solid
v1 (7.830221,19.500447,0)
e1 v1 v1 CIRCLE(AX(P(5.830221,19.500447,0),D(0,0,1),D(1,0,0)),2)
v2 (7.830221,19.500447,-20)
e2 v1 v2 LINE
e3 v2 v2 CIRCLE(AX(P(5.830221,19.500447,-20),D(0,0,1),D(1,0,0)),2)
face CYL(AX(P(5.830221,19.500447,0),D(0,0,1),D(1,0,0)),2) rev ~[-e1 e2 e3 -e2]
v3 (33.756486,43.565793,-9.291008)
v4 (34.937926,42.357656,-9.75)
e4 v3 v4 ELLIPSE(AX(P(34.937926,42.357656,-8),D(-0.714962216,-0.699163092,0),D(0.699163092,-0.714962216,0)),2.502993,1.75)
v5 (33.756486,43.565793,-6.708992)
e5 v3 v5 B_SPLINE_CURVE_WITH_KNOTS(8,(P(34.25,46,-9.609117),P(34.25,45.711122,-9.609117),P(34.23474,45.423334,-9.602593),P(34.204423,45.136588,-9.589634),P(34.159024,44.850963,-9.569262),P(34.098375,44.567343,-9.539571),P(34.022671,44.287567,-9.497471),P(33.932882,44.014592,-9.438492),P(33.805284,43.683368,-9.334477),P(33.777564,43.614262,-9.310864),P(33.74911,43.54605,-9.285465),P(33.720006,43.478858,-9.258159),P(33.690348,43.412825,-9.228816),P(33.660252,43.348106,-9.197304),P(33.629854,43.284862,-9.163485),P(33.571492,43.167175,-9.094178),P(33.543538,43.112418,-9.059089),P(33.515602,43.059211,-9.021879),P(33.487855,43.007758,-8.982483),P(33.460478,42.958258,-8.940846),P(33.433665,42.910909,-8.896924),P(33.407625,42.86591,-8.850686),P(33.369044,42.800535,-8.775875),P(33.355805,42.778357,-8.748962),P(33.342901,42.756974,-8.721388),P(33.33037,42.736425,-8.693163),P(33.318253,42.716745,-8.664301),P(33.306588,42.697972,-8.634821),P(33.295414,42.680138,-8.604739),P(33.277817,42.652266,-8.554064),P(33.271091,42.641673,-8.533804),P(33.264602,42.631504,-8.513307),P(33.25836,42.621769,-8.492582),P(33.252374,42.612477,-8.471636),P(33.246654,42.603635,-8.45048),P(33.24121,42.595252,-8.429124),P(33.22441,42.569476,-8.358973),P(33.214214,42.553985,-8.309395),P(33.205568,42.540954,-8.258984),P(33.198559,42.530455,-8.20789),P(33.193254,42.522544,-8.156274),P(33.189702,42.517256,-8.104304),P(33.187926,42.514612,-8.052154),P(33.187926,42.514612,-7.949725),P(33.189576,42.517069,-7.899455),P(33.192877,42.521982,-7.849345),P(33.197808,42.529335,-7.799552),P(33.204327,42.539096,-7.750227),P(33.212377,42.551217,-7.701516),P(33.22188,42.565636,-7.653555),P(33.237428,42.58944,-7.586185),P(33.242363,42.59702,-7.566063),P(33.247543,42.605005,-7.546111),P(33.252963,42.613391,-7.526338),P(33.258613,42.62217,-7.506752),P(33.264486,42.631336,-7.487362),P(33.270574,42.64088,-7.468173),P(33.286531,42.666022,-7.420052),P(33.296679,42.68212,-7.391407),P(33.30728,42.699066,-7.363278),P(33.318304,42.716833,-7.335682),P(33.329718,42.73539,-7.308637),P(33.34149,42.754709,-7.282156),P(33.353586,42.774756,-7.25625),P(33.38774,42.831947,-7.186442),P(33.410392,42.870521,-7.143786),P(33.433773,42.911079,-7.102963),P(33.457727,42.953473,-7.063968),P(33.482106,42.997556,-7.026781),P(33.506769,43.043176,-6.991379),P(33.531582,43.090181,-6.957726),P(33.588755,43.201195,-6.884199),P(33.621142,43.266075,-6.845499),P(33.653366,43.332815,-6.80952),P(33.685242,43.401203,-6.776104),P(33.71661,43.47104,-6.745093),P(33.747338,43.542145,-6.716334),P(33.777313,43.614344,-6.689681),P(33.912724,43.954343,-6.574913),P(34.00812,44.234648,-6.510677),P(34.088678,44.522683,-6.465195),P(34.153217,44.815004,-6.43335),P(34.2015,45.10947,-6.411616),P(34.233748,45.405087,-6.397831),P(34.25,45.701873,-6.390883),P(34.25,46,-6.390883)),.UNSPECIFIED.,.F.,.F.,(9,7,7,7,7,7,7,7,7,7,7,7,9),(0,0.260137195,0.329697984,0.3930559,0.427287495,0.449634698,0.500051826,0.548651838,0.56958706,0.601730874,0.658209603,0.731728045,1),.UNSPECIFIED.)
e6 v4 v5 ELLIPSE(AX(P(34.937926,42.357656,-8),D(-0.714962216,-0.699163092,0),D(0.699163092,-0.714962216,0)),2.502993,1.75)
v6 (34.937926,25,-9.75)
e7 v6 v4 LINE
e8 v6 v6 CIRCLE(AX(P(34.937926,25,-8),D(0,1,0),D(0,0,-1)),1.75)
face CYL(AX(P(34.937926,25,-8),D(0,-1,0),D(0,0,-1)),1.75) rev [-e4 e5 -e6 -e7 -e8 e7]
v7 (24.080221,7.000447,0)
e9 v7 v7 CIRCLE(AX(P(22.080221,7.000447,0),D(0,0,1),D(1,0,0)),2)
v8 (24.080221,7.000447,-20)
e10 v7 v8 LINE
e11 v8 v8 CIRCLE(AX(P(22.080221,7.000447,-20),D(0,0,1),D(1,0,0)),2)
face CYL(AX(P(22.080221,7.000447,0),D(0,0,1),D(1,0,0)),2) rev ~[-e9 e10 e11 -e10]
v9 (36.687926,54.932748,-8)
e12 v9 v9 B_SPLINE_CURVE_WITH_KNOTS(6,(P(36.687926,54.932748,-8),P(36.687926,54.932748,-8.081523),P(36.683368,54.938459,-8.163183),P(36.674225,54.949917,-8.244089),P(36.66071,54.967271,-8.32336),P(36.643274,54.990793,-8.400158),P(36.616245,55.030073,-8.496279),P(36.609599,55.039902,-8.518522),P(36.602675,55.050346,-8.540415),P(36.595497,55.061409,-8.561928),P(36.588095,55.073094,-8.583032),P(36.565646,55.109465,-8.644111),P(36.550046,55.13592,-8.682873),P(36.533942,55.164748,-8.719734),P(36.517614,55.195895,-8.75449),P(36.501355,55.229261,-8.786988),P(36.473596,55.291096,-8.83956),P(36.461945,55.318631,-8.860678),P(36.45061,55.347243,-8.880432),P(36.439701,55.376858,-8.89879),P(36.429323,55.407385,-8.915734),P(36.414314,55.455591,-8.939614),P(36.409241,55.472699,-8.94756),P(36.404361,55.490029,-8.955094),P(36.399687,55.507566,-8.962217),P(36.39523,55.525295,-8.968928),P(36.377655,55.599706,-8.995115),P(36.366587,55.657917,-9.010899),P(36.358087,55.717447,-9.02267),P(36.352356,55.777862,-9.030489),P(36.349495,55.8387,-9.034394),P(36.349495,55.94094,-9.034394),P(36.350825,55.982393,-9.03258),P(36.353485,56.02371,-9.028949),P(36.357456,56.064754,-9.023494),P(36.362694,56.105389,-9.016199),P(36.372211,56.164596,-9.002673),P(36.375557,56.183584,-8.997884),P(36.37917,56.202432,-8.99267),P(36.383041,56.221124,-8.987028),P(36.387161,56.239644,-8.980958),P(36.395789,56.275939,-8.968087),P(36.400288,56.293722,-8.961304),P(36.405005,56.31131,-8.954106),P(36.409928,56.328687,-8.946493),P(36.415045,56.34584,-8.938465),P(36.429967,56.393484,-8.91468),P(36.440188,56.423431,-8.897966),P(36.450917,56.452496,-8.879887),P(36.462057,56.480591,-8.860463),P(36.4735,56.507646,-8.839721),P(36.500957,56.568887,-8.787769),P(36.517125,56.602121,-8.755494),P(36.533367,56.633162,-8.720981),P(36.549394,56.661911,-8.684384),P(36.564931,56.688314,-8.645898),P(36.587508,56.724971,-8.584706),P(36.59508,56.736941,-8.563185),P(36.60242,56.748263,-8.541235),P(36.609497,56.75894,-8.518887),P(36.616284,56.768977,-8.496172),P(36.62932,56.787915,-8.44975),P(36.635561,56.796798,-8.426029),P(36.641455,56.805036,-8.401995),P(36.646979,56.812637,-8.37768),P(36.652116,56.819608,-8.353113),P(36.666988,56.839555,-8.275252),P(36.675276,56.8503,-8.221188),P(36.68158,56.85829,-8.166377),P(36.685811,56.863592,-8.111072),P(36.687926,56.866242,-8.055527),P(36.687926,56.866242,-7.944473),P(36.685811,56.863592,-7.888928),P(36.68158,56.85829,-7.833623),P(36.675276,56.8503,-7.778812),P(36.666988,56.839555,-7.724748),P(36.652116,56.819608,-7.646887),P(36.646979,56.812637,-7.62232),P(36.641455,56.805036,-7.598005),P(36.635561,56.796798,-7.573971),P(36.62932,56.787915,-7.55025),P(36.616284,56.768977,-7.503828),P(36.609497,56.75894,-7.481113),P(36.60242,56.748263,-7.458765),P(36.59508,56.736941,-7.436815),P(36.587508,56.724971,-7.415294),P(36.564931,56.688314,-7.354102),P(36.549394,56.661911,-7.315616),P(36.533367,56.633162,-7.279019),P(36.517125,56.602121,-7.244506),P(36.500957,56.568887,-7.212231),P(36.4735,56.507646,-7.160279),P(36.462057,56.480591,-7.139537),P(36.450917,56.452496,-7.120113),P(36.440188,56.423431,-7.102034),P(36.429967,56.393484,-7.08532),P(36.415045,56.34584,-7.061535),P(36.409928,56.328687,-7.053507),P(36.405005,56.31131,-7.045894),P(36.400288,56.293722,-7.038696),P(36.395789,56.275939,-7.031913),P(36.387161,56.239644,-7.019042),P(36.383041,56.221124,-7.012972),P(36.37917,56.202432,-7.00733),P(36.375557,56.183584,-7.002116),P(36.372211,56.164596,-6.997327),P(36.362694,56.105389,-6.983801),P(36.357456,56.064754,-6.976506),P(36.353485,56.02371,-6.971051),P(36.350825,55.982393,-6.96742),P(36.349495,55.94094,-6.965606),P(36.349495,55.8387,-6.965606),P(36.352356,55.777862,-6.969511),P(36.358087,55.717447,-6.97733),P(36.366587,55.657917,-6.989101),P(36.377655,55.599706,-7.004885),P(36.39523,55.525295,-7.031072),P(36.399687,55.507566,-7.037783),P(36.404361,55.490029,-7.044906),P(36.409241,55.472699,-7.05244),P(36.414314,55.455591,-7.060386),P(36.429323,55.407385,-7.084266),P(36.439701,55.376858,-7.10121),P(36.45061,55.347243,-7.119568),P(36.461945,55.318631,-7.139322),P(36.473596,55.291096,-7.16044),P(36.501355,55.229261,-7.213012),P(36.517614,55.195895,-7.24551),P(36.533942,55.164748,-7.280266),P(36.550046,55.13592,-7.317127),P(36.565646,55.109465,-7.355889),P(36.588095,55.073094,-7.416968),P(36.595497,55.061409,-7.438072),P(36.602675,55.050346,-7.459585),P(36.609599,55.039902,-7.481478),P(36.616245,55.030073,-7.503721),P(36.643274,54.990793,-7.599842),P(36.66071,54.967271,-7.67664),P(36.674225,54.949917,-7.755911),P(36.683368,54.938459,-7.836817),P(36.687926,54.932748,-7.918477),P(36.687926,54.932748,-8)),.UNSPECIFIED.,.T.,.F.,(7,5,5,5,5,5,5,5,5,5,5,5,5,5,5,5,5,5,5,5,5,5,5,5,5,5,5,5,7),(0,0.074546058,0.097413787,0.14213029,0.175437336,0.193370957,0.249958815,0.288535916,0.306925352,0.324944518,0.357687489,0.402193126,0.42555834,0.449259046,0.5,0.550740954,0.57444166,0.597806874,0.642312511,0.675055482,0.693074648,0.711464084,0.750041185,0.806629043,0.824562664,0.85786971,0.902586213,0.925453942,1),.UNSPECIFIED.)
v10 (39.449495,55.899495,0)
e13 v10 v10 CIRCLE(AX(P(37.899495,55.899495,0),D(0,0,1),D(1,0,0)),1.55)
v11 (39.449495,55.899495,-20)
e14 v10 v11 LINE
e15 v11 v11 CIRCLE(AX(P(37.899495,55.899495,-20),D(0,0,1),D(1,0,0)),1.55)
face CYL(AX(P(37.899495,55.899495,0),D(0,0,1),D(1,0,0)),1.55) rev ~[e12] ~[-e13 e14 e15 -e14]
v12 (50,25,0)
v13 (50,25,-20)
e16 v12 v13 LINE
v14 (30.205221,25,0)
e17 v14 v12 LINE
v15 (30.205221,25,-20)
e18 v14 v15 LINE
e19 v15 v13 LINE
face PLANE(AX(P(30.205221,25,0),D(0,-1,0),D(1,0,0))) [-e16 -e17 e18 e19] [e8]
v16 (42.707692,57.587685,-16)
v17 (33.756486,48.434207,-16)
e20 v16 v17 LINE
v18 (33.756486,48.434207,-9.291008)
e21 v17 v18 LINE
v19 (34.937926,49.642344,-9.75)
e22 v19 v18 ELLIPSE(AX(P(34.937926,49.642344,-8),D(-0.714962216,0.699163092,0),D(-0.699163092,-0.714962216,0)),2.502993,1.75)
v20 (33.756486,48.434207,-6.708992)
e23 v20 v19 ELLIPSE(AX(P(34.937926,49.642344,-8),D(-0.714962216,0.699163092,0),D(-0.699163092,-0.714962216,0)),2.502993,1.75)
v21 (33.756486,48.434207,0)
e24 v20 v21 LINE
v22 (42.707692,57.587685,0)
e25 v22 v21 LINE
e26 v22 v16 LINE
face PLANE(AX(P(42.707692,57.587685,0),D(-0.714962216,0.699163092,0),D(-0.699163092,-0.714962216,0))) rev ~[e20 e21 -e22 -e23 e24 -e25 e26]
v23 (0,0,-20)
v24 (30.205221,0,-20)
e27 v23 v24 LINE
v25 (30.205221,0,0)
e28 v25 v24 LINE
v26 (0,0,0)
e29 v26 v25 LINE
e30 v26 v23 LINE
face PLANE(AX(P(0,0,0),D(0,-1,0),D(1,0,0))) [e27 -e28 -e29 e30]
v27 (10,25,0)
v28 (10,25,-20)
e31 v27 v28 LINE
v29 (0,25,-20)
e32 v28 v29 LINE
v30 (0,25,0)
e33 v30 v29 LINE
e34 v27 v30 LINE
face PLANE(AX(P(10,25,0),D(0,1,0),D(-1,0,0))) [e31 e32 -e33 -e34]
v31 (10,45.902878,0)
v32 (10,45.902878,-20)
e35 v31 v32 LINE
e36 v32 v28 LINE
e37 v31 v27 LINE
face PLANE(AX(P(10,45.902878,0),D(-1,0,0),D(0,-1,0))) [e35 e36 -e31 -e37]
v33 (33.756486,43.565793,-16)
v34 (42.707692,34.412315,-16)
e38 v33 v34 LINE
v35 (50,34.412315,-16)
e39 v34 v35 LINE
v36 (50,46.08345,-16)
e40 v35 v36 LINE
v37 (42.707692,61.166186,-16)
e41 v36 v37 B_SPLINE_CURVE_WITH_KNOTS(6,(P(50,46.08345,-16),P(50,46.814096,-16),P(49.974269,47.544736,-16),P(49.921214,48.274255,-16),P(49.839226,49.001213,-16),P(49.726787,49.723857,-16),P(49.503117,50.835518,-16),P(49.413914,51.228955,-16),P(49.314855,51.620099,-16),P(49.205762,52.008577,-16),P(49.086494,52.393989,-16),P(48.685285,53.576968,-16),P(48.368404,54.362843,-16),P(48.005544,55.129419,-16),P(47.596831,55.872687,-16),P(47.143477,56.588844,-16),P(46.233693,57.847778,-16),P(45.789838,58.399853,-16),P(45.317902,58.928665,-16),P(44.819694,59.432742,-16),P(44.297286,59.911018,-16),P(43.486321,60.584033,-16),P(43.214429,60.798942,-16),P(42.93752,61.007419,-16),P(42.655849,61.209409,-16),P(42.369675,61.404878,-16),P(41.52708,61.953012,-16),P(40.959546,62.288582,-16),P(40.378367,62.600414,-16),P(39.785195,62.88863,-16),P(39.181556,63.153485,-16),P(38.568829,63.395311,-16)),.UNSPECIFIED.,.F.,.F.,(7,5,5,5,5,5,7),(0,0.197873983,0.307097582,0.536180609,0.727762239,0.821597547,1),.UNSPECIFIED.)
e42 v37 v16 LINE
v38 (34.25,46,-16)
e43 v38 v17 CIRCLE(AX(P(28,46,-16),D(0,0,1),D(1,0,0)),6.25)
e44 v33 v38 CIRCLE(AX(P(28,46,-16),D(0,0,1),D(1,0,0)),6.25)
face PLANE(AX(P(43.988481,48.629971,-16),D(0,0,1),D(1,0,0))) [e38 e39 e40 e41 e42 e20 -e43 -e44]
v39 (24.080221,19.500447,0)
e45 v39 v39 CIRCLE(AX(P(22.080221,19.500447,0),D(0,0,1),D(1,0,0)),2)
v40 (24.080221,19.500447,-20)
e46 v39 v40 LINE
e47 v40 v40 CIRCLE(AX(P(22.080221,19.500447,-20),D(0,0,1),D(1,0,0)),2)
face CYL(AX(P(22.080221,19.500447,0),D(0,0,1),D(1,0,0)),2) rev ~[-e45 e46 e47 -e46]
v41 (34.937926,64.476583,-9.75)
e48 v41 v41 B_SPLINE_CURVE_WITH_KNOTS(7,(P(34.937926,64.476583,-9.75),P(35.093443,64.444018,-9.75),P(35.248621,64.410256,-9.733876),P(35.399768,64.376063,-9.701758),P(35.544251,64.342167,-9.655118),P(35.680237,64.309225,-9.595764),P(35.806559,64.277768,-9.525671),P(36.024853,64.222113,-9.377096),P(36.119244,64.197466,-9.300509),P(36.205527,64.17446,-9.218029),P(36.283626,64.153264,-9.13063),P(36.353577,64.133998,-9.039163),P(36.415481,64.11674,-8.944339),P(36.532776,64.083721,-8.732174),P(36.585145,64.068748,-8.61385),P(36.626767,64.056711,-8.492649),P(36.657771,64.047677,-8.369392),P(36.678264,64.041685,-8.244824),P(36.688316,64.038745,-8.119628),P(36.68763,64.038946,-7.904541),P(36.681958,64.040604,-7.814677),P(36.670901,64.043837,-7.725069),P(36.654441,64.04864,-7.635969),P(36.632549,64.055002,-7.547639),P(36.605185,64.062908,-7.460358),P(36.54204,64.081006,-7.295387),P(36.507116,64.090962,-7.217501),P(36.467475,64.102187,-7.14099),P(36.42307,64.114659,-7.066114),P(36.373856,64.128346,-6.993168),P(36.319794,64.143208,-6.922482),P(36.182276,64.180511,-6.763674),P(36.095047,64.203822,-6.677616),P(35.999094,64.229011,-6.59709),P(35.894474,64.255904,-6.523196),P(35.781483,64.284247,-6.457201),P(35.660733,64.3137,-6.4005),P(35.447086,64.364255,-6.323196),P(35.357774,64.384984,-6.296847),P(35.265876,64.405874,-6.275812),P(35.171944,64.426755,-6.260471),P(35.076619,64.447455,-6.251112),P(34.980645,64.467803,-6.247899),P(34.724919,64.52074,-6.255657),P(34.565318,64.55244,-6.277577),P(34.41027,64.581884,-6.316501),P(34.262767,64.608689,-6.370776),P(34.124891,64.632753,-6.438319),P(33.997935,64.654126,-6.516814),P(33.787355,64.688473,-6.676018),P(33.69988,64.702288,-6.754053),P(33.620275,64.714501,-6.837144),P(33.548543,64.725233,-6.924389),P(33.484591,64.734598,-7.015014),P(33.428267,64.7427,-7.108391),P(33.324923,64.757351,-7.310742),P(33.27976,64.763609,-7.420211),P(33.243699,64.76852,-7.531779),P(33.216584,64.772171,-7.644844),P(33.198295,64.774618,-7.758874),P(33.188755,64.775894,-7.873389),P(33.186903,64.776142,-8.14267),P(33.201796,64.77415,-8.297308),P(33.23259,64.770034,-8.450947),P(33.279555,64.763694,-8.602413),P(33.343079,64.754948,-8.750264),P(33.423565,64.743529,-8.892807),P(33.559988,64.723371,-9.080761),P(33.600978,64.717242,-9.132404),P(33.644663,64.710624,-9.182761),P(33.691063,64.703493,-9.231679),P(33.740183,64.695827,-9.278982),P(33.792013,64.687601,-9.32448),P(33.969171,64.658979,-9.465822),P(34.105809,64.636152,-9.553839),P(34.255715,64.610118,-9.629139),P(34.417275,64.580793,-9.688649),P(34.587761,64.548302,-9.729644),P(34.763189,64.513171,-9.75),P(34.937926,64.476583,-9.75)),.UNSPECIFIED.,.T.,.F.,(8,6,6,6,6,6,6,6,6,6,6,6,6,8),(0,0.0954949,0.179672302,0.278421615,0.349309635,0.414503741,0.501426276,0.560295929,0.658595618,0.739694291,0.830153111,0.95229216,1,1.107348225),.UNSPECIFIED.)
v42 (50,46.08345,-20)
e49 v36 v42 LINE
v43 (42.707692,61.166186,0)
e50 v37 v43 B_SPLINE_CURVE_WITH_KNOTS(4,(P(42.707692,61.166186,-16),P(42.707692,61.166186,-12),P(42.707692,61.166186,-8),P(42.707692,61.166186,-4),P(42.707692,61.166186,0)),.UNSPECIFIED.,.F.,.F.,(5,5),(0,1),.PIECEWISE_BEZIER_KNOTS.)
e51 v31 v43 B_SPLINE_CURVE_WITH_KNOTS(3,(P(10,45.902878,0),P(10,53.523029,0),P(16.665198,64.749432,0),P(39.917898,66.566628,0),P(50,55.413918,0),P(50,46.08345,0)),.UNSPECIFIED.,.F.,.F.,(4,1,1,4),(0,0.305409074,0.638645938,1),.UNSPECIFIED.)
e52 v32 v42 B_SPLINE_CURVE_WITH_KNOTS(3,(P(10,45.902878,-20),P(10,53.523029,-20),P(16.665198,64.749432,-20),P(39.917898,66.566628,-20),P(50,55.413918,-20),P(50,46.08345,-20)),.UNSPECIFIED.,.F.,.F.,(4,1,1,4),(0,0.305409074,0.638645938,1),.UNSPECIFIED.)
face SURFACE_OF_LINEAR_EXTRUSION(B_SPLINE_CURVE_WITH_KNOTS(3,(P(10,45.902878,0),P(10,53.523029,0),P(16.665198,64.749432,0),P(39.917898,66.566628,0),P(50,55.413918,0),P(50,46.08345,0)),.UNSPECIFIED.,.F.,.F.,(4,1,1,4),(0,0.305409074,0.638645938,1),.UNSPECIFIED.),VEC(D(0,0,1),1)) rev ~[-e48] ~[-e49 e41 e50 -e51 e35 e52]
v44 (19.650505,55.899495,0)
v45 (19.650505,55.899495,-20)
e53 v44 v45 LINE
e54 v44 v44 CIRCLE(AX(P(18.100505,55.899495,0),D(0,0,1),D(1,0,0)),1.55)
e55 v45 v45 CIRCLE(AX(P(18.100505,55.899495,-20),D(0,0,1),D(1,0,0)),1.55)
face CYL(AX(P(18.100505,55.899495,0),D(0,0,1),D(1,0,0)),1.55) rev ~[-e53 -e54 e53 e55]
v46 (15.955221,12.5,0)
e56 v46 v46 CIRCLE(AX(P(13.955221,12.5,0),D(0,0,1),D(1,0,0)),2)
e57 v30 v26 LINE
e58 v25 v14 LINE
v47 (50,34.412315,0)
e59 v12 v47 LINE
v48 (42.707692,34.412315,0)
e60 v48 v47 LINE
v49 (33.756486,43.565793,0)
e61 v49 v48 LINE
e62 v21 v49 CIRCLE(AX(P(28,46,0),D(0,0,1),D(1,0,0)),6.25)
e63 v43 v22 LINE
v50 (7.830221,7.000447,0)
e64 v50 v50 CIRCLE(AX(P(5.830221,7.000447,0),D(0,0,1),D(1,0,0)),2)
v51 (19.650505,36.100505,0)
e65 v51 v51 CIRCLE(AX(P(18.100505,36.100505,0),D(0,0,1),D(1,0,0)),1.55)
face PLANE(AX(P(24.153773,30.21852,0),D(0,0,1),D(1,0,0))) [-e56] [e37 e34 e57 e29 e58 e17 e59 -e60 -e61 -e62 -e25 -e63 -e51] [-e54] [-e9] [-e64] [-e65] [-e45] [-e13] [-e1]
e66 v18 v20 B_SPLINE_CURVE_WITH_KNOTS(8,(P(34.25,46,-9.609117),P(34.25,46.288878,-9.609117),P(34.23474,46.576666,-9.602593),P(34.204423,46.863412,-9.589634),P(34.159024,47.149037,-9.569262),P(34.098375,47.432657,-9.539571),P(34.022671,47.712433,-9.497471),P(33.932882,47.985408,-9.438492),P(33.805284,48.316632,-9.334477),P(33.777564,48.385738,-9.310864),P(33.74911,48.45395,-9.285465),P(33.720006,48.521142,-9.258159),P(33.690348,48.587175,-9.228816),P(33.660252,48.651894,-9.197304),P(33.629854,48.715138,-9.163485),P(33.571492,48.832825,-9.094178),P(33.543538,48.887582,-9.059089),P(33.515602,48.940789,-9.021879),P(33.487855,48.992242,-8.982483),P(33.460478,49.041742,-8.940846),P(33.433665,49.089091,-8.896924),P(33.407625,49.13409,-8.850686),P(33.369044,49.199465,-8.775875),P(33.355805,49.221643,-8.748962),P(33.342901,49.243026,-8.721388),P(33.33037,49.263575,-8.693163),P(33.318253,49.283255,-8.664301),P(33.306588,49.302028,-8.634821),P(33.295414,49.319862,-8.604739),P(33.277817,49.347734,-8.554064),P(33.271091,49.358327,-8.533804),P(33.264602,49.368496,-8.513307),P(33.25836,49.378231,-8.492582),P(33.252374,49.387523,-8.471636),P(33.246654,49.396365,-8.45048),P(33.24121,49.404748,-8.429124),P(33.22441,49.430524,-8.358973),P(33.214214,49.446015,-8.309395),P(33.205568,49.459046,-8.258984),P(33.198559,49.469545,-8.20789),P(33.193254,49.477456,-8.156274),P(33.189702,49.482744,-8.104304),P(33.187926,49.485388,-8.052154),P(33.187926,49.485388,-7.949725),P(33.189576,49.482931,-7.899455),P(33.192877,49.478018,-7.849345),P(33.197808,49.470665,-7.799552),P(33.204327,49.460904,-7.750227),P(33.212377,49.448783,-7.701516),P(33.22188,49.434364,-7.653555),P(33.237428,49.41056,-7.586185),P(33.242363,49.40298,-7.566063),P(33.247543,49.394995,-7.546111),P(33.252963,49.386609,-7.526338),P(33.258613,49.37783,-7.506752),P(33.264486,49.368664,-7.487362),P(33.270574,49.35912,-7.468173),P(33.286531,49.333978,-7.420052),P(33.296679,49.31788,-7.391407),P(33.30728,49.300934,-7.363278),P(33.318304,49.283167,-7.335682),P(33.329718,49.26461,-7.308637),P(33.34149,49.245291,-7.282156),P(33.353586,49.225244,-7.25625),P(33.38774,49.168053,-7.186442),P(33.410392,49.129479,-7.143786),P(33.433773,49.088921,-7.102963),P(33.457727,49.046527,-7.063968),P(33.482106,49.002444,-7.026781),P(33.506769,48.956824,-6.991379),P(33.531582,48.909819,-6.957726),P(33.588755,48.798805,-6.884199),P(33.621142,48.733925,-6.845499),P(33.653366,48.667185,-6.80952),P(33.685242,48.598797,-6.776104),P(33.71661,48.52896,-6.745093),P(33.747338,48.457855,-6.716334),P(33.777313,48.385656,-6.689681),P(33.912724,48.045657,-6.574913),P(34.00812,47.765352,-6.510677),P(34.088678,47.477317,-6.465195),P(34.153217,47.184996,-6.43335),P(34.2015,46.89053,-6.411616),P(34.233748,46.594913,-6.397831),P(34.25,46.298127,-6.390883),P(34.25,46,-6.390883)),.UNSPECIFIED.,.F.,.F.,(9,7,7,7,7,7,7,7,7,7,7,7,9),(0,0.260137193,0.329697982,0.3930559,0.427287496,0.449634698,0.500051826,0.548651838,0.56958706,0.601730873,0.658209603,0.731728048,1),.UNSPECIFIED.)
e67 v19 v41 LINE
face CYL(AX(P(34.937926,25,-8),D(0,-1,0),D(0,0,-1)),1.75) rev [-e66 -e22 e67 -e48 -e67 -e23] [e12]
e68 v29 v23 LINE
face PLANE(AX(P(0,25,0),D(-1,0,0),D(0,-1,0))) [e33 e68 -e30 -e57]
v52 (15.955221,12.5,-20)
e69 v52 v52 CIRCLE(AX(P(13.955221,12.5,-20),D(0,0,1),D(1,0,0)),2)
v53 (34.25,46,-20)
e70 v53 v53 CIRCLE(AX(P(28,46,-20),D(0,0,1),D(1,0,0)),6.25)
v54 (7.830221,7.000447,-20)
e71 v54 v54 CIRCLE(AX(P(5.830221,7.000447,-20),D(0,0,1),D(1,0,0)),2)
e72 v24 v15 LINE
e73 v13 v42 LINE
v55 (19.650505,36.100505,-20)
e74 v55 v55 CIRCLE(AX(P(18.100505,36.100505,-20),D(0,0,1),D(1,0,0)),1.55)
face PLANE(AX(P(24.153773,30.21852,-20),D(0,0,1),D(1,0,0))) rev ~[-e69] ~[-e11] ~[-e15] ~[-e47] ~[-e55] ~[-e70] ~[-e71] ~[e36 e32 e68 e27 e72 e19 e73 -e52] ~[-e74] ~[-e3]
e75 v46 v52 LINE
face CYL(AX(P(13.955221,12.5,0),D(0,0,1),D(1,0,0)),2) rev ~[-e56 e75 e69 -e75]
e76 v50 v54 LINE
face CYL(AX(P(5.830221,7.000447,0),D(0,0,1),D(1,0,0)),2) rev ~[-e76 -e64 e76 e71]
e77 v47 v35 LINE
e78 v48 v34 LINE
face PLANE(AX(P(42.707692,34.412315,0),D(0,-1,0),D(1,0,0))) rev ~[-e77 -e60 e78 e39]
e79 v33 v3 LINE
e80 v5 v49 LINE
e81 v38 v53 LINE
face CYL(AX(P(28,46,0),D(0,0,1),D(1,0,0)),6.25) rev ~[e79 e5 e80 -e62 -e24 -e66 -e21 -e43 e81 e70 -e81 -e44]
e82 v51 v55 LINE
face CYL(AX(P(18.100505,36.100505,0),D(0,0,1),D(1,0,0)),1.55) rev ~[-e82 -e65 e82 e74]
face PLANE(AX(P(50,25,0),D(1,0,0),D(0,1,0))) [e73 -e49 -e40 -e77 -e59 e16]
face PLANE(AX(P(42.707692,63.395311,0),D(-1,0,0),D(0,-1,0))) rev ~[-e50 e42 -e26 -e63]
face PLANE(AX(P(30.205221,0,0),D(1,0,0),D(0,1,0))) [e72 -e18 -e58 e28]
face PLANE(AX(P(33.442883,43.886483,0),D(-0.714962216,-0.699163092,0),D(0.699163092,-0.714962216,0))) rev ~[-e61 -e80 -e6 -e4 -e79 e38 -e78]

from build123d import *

# Parameters (mm, degrees)
SCHIZZO1_R                   = 2
SCHIZZO1_R_2                 = 1.55
SCHIZZO1_R_3                 = 6.25
ESTRUSIONE_ESTRUSIONE1_DEPTH = 20
TAGLIO_ESTRUSIONE3_DEPTH     = 16
SCHIZZO5_R                   = 1.75
TAGLIO_ESTRUSIONE4_DEPTH     = 68.079836494


with BuildPart() as part:
    # Schizzo1 → Estrusione-Estrusione1 (new body)
    with BuildSketch(Plane.XY):
        with BuildLine():
            Line((0, 0), (30.205221293, 0))
            Line((30.205221293, 0), (30.205221293, 25.000000003))
            Line((30.205221293, 25.000000003), (50, 25.000000003))
            Line((50, 25.000000003), (50, 46.083449556))
            add(Edge.make_bspline(
                [(10, 45.902878326), (10, 53.523029111), (16.665197751, 64.749431614), (39.917897707, 66.566627657), (50, 55.41391796), (50, 46.083449556)],
                knots=[0, 0, 0, 0, 0.305409074, 0.638645938, 1, 1, 1, 1], degree=3))
            Line((10, 45.902878326), (10, 25))
            Line((10, 25), (0, 25))
            Line((0, 25), (0, 0))
        make_face()
        with Locations((5.830221293, 7.000447051)):
            Circle(SCHIZZO1_R, mode=Mode.SUBTRACT)
        with Locations((13.955221293, 12.5)):
            Circle(SCHIZZO1_R, mode=Mode.SUBTRACT)
        with Locations((22.080221293, 7.000447051)):
            Circle(SCHIZZO1_R, mode=Mode.SUBTRACT)
        with Locations((22.080221293, 19.500447051)):
            Circle(SCHIZZO1_R, mode=Mode.SUBTRACT)
        with Locations((5.830221293, 19.500447051)):
            Circle(SCHIZZO1_R, mode=Mode.SUBTRACT)
        with Locations((37.899494937, 55.899494937)):
            Circle(SCHIZZO1_R_2, mode=Mode.SUBTRACT)
        with Locations((28, 46)):
            Circle(SCHIZZO1_R_3, mode=Mode.SUBTRACT)
        with Locations((18.100505063, 36.100505063)):
            Circle(SCHIZZO1_R_2, mode=Mode.SUBTRACT)
        with Locations((18.100505063, 55.899494937)):
            Circle(SCHIZZO1_R_2, mode=Mode.SUBTRACT)
    extrude(amount=-ESTRUSIONE_ESTRUSIONE1_DEPTH)

    # Schizzo4 → Taglio-Estrusione3 (cut)
    with BuildSketch(Plane.XY):
        Polygon((42.707691964, 34.412315024), (50, 34.412315024), (50, 57.587684976), (50, 63.39531064), (42.707691964, 63.39531064), (42.707691964, 57.587684976), (33.442882673, 48.113516989), (33.442882673, 43.886483011), align=None)
    extrude(amount=-TAGLIO_ESTRUSIONE3_DEPTH, mode=Mode.SUBTRACT)

    # Schizzo5 → Taglio-Estrusione4 (cut, through all)
    with BuildSketch(Plane(origin=(0, 25.000000003, 0), x_dir=(1, 0, 0), z_dir=(0, 1, 0))):
        with Locations(Location((34.937925583, 8, 0), (0, 0, 90))):
            Circle(SCHIZZO5_R)
    extrude(amount=TAGLIO_ESTRUSIONE4_DEPTH, mode=Mode.SUBTRACT)


solid = part.part
